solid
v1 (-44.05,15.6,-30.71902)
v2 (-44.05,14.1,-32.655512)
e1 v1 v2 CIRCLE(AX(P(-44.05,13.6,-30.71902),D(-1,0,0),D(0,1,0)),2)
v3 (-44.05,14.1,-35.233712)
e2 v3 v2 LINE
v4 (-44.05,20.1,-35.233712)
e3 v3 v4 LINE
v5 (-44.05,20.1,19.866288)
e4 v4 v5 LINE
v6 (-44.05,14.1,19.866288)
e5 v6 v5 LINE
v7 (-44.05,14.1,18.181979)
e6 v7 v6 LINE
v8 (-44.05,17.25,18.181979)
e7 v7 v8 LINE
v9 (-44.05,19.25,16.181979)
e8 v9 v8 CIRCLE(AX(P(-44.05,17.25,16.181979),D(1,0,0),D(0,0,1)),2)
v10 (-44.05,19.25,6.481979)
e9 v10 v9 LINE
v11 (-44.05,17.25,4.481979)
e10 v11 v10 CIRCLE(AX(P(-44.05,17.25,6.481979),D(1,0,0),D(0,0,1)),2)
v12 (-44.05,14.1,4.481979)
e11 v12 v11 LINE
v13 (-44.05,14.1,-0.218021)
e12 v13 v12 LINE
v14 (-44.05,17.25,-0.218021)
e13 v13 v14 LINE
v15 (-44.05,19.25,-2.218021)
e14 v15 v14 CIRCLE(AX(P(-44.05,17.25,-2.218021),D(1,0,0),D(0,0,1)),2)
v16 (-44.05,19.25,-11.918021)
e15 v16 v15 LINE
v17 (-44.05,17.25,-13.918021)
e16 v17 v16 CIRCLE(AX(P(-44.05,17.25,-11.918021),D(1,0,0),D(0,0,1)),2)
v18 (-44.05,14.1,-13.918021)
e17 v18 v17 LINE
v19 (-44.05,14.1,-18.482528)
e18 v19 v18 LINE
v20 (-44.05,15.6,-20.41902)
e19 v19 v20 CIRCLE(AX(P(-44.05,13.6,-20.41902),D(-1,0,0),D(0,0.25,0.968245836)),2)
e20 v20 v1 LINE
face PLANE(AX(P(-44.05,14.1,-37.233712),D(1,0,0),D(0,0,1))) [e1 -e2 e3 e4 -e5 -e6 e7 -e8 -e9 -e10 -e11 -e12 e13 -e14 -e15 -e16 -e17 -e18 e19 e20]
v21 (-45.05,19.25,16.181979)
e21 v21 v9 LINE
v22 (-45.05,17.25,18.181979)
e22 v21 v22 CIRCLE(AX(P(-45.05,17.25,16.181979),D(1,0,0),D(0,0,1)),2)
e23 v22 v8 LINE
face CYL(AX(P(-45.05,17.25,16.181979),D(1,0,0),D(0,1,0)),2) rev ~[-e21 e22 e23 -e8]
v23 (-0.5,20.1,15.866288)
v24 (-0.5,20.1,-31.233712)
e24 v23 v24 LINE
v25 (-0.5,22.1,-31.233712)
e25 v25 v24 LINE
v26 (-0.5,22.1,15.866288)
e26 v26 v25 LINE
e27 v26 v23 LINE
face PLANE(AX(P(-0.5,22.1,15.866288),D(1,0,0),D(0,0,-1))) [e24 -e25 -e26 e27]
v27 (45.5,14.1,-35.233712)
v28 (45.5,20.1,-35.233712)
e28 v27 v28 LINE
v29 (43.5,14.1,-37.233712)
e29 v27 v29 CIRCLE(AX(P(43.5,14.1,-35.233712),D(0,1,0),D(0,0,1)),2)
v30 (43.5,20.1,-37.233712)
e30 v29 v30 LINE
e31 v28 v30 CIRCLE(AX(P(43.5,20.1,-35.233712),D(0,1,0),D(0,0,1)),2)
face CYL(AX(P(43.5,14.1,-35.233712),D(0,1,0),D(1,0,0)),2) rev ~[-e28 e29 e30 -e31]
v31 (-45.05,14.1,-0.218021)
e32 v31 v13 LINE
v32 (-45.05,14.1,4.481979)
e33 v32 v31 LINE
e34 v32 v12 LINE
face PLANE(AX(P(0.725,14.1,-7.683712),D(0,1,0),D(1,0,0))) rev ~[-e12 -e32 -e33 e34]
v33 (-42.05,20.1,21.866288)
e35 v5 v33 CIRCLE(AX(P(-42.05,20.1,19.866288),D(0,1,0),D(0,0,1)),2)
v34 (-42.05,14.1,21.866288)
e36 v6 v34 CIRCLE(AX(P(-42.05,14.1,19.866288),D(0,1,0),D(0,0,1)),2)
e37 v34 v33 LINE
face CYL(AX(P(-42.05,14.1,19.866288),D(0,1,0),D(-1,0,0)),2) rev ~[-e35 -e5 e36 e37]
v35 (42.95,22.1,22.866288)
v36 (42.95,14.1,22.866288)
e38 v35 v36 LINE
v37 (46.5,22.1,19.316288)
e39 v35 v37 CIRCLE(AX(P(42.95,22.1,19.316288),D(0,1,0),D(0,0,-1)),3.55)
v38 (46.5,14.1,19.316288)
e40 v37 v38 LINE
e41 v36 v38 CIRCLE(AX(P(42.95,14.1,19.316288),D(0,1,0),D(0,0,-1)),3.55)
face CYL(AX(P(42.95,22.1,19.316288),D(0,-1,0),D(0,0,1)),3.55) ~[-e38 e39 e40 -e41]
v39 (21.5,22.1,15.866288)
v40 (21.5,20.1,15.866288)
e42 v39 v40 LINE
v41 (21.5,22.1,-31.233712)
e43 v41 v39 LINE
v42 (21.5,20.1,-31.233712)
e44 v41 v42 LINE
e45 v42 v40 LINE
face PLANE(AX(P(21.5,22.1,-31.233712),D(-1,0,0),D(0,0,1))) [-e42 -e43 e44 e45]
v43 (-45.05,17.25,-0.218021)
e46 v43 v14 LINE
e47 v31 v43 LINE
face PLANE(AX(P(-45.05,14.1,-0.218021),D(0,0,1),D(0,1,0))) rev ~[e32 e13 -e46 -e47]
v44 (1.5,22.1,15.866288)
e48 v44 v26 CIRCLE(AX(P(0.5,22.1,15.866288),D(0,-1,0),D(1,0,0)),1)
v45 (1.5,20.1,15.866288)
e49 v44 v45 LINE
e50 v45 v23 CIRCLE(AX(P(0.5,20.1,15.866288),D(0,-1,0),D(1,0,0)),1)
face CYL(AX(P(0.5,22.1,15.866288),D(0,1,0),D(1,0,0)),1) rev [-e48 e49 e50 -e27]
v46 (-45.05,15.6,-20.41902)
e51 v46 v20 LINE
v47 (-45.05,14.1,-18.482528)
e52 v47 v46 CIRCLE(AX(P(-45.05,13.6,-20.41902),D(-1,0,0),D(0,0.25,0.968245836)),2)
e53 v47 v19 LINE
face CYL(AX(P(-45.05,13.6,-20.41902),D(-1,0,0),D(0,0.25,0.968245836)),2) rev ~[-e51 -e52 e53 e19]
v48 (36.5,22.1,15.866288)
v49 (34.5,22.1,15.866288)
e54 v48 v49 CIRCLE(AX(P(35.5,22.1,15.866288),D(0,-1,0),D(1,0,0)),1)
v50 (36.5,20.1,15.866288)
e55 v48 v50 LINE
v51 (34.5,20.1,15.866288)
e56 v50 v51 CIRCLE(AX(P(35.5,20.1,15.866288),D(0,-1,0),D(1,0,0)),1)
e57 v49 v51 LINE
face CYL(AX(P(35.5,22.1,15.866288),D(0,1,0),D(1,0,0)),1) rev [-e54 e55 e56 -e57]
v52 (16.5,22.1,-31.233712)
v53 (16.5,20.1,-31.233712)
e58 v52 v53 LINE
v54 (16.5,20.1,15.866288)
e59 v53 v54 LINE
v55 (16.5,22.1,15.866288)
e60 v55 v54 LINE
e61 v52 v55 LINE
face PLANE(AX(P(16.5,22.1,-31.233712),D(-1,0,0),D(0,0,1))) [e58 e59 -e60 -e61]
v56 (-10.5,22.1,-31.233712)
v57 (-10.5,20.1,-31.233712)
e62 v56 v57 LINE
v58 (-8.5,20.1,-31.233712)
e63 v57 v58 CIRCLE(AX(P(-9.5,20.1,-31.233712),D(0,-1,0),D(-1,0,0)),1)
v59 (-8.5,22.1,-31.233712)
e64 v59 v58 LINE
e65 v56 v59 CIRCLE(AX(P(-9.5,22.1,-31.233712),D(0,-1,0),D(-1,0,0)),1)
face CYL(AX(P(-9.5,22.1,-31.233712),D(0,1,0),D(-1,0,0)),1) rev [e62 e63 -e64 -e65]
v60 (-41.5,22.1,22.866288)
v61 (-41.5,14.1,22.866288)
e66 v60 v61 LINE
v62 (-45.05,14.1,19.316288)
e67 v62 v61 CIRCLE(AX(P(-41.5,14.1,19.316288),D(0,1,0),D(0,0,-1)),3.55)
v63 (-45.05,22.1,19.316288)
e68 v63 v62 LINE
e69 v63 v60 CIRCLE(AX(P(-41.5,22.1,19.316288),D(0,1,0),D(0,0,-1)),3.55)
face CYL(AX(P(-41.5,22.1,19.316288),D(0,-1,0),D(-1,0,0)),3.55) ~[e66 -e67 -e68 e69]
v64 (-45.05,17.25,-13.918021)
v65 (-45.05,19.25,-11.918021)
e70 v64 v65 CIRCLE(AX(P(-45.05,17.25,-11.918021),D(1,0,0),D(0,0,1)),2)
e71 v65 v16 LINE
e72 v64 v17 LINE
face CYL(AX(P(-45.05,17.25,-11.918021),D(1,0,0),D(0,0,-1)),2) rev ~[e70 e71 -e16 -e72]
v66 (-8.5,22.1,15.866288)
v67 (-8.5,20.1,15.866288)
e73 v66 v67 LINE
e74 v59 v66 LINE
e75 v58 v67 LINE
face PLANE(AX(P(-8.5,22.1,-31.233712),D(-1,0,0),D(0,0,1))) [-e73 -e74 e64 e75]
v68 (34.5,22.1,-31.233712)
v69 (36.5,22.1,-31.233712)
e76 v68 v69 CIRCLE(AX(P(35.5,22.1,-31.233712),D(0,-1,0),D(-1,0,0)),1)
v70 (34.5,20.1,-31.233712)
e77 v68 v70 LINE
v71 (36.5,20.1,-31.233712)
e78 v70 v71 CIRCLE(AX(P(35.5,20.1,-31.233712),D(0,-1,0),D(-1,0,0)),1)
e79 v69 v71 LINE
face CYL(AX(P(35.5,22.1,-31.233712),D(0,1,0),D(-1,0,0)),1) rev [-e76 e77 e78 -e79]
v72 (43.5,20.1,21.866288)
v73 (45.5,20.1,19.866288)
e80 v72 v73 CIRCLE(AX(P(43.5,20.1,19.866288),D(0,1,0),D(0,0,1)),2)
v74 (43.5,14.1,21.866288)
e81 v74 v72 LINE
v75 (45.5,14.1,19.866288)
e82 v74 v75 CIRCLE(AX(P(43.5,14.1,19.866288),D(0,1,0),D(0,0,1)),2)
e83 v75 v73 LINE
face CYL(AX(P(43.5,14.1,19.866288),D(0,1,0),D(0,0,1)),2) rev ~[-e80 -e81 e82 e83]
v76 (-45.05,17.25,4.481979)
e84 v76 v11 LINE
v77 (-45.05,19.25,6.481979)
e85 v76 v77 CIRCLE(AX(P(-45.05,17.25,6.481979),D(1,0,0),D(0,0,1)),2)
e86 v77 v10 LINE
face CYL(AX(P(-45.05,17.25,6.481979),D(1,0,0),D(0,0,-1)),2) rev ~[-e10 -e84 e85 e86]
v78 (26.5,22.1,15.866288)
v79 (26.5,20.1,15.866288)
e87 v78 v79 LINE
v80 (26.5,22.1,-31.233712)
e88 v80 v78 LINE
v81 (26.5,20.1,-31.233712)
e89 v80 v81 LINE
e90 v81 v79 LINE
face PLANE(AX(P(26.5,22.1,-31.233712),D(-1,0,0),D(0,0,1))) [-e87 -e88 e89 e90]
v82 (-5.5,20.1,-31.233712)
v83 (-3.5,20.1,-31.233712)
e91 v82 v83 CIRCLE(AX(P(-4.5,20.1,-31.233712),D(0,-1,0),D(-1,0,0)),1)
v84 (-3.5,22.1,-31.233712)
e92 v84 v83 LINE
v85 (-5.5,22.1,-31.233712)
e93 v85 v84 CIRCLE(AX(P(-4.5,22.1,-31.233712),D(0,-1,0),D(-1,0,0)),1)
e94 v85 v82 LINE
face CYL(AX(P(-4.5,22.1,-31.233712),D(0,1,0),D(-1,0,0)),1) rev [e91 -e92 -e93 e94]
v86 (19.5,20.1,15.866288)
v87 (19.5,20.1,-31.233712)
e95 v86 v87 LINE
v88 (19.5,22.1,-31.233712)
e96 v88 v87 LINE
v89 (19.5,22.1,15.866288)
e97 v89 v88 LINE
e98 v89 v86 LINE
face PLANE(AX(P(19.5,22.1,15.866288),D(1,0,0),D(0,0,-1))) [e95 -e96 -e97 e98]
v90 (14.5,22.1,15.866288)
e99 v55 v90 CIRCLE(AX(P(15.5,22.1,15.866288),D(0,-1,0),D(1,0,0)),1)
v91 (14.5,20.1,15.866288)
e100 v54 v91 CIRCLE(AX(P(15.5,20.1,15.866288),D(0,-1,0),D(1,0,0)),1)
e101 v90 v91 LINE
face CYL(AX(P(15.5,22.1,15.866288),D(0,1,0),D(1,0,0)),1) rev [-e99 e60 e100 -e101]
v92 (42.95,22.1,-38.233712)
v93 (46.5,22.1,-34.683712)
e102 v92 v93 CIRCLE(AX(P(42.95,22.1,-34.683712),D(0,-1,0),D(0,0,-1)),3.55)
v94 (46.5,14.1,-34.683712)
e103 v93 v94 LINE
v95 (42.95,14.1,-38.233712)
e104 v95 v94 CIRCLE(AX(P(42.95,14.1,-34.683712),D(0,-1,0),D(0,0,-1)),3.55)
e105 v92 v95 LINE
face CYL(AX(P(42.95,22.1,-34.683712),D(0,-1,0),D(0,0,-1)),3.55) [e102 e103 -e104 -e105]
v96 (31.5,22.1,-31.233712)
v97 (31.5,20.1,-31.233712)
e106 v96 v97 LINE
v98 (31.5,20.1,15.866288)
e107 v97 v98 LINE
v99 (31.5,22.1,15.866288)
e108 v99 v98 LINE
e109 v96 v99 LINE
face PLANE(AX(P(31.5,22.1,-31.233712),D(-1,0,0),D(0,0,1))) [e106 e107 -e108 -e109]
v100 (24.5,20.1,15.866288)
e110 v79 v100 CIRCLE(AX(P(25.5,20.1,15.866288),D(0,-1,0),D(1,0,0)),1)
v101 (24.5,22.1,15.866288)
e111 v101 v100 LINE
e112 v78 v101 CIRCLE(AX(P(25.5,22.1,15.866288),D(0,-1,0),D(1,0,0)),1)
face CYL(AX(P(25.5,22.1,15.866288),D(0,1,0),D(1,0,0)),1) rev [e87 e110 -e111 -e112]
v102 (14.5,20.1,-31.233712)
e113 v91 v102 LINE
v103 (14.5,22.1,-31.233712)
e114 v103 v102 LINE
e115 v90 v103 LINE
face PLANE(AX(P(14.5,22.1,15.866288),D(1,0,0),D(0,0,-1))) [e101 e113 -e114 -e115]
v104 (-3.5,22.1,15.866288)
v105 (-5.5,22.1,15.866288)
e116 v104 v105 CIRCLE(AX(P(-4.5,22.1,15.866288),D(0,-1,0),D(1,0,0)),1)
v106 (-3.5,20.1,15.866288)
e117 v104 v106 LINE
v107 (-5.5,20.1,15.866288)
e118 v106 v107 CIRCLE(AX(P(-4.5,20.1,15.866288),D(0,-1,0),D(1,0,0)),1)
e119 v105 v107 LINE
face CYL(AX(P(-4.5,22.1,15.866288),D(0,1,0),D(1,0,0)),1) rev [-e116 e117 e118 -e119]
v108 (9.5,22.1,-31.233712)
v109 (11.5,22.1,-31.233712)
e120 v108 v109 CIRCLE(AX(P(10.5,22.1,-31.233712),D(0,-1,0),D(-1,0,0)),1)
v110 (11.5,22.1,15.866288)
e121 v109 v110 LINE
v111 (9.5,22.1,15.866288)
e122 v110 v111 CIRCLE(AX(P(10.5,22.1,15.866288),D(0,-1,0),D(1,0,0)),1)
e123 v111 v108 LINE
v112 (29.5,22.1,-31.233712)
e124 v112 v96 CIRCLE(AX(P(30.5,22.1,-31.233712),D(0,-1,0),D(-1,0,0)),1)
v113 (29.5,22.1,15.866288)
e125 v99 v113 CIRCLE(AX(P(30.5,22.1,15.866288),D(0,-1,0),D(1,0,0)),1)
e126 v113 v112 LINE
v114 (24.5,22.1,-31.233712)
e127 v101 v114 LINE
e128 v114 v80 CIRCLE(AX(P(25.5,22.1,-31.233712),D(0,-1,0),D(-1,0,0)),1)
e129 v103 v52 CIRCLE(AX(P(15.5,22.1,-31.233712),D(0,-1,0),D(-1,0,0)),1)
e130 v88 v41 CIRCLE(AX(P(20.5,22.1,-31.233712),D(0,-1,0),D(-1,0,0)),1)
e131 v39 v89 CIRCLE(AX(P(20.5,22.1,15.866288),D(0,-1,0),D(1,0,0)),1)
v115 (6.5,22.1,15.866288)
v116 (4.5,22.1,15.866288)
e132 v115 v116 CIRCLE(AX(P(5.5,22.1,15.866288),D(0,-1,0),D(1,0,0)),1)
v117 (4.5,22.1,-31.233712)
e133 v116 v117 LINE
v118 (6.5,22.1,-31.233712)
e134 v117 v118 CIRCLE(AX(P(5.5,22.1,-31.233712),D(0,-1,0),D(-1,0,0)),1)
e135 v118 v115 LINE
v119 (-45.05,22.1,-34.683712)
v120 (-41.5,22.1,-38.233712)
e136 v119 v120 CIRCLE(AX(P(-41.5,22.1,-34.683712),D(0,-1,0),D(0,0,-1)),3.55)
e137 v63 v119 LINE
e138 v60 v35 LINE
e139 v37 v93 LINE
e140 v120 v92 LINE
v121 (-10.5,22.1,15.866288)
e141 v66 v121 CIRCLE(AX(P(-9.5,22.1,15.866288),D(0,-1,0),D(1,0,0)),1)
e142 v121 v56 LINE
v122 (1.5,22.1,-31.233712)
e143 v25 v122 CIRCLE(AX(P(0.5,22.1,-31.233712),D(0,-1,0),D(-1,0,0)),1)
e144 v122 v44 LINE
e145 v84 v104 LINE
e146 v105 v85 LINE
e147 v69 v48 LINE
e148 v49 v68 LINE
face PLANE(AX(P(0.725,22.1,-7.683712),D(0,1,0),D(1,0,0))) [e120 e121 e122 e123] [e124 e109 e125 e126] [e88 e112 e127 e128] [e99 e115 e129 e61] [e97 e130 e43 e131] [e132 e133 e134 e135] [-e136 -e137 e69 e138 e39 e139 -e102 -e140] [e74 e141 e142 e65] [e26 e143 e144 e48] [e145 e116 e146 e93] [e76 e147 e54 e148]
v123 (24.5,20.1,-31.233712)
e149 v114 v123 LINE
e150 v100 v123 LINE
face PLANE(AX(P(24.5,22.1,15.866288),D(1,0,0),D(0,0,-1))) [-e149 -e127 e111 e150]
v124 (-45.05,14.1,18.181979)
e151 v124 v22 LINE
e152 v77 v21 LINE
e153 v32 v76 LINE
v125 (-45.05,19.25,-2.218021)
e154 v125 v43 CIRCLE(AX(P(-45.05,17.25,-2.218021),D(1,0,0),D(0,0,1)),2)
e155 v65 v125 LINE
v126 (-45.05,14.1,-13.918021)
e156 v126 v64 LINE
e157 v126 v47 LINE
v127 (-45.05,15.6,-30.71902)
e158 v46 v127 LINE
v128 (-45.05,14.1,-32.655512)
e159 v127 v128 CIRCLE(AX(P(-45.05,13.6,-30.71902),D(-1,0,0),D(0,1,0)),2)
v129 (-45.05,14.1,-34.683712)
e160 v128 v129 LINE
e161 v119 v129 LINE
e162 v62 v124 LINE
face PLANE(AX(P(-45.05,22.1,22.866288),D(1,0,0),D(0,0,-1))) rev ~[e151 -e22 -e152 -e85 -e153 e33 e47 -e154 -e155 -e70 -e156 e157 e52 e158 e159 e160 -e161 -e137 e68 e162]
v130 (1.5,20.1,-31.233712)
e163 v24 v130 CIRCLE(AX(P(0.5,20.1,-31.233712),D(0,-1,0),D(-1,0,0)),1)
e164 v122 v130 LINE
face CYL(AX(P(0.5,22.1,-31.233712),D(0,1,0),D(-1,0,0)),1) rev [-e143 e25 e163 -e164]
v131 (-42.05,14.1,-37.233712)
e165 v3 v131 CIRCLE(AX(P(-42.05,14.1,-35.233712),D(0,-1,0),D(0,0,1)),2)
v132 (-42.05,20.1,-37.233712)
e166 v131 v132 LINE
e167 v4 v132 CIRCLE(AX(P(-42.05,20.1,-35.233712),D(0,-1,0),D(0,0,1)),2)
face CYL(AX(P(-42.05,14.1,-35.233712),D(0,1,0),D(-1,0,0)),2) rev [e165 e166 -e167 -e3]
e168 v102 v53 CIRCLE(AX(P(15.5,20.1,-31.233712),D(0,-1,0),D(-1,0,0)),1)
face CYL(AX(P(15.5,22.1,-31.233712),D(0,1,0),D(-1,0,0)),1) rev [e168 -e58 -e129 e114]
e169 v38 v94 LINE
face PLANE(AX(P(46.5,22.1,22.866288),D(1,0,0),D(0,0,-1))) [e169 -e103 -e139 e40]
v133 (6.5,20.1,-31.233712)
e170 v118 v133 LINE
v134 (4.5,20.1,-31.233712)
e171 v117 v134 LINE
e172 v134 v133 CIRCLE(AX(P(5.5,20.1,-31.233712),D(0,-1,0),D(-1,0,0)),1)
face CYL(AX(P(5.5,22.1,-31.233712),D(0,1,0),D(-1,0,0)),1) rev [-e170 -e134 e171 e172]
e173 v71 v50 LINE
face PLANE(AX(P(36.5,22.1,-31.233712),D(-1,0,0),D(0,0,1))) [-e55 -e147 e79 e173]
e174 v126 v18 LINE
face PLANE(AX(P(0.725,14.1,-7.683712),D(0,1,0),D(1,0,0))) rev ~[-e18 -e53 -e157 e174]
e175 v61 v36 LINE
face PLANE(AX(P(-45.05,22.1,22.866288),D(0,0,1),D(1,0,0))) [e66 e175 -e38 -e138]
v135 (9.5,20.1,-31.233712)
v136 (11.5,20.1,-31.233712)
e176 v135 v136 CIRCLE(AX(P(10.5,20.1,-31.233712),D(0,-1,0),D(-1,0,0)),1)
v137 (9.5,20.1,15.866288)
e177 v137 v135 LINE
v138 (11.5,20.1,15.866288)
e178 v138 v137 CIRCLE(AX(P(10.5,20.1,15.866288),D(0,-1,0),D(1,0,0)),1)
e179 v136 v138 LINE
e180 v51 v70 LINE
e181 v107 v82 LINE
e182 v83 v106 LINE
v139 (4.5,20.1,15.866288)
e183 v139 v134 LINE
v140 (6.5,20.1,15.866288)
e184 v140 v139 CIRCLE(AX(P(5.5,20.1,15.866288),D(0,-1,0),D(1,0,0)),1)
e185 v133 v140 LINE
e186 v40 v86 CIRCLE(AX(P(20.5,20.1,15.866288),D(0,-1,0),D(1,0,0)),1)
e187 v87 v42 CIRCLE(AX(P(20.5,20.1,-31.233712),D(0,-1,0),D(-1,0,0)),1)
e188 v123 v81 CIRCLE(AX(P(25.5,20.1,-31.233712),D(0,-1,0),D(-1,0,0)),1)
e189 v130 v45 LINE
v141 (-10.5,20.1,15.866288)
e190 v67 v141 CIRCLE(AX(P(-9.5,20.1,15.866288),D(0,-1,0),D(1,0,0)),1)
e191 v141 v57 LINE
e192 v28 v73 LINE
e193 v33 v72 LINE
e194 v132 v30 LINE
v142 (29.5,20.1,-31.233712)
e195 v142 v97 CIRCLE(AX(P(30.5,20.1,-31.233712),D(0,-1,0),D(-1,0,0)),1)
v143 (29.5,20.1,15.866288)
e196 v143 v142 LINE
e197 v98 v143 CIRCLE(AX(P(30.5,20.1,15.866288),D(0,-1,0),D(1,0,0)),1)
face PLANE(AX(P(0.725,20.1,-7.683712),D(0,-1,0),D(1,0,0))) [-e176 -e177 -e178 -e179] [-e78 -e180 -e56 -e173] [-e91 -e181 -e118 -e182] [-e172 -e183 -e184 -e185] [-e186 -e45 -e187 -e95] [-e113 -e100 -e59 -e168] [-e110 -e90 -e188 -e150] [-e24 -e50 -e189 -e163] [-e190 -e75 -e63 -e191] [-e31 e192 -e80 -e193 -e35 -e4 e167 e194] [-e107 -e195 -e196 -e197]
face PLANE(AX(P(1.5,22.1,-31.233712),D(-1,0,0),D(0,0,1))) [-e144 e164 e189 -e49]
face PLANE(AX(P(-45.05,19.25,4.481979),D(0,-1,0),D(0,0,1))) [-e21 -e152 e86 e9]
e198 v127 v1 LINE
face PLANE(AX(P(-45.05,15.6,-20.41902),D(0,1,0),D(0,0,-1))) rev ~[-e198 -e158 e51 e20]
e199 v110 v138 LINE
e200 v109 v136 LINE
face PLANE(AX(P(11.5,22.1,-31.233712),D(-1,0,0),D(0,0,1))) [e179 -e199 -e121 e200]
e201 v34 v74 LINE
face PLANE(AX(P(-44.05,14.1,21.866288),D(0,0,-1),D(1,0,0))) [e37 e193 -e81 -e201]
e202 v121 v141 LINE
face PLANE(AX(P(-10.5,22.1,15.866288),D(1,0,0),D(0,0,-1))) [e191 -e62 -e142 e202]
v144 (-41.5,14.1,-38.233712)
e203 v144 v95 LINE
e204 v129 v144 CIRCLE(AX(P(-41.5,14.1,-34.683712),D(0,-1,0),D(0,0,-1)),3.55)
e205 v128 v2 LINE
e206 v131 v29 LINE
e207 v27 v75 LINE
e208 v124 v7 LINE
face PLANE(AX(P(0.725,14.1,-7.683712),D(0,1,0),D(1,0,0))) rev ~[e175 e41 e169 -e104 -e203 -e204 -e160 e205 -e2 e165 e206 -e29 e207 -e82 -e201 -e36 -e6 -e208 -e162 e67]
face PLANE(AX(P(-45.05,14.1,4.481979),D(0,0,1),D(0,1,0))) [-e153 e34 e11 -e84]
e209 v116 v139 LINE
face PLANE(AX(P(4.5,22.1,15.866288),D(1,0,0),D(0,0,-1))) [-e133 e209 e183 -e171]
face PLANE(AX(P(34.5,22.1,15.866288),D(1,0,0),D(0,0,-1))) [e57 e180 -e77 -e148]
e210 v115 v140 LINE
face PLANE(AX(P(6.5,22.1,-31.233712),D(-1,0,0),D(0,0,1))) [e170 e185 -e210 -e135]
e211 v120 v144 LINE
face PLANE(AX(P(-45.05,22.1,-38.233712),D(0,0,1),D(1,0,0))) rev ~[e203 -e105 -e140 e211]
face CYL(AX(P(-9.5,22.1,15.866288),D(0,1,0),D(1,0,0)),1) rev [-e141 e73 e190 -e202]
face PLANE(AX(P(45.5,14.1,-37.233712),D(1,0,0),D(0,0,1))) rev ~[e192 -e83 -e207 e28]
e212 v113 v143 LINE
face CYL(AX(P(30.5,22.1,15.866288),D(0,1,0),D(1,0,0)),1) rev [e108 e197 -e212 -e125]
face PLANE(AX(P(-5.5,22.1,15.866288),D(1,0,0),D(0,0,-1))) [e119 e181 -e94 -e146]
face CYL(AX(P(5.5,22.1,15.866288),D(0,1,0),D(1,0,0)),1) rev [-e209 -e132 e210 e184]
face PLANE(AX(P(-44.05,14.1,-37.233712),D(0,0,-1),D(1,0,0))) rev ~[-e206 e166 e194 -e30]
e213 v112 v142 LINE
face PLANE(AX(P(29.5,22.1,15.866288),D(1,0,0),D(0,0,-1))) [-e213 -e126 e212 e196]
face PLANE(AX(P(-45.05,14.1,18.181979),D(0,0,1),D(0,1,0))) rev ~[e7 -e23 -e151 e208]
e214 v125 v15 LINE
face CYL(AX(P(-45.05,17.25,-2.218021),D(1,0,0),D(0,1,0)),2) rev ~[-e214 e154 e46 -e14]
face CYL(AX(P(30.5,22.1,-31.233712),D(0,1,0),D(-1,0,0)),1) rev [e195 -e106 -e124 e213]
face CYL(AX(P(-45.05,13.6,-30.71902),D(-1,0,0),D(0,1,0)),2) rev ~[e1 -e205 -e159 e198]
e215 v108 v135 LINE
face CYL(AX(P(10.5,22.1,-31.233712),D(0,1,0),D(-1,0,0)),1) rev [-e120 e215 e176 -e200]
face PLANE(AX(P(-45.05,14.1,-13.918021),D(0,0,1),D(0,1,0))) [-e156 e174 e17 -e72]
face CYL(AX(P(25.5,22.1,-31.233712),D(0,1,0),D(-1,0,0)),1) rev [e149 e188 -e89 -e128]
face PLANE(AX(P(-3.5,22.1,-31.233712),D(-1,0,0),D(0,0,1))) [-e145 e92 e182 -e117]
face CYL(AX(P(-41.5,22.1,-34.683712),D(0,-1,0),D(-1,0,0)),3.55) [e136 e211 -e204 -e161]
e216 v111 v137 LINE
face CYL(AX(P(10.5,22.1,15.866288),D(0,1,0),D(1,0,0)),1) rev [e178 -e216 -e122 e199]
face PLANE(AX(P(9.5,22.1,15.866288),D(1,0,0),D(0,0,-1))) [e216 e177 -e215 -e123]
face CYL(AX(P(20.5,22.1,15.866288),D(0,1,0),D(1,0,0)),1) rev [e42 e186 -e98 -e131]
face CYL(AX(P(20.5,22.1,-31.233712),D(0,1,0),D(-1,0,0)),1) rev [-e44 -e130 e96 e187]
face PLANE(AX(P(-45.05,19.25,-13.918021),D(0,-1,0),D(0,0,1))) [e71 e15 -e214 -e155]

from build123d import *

# Parameters (mm, degrees)
SKETCH1_W           = 91.55
SKETCH1_H           = 61.1
BOSS_EXTRUDE1_DEPTH = 8
SKETCH2_W           = 89.55
SKETCH2_H           = 59.1
CUT_EXTRUDE1_DEPTH  = 6
CUT_EXTRUDE2_REACH  = 189.594
SKETCH3_W           = 13.7
SKETCH3_H           = 5.15
CUT_EXTRUDE3_REACH  = 189.594
SKETCH4_W           = 13.7
SKETCH4_H           = 5.15
CUT_EXTRUDE4_REACH  = 189.594
FILLET1_R           = 2
FILLET2_R           = 3.55
CUT_EXTRUDE5_DEPTH  = 2
LPATTERN1_COUNT     = 10
LPATTERN1_PITCH     = 5


with BuildPart() as part:
    # Sketch1 → Boss-Extrude1 (new body)
    with BuildSketch(Plane(origin=(0, 22.1, -139.373711609), x_dir=(1, 0, 0), z_dir=(0, 1, 0))):
        with Locations((0.725, -131.69)):
            Rectangle(SKETCH1_W, SKETCH1_H)
    extrude(amount=-BOSS_EXTRUDE1_DEPTH)

    # Sketch2 → Cut-Extrude1 (cut)
    with BuildSketch(Plane(origin=(0, 14.1, -139.373711609), x_dir=(1, 0, 0), z_dir=(0, -1, 0))):
        with Locations((0.725, 131.69)):
            Rectangle(SKETCH2_W, SKETCH2_H)
    extrude(amount=-CUT_EXTRUDE1_DEPTH, mode=Mode.SUBTRACT)

    # Sketch3 → Cut-Extrude2 (cut, up to next)
    with BuildSketch(Plane(origin=(-45.05, 0, -139.373711609), x_dir=(0, 0, 1), z_dir=(-1, 0, 0)), mode=Mode.PRIVATE) as cut_extrude2_sk1:
        with Locations((150.705690784, 16.675)):
            Rectangle(SKETCH3_W, SKETCH3_H)
    cut_extrude2_tool1 = extrude(cut_extrude2_sk1.sketch, amount=-CUT_EXTRUDE2_REACH, mode=Mode.PRIVATE) & part.part
    add(cut_extrude2_tool1.solids().sort_by_distance((-45.05, 16.675, 11.331979))[0], mode=Mode.SUBTRACT)

    # Sketch4 → Cut-Extrude3 (cut, up to next)
    with BuildSketch(Plane(origin=(-45.05, 0, -139.373711609), x_dir=(0, 0, 1), z_dir=(-1, 0, 0)), mode=Mode.PRIVATE) as cut_extrude3_sk1:
        with Locations((132.305690784, 16.675)):
            Rectangle(SKETCH4_W, SKETCH4_H)
    cut_extrude3_tool1 = extrude(cut_extrude3_sk1.sketch, amount=-CUT_EXTRUDE3_REACH, mode=Mode.PRIVATE) & part.part
    add(cut_extrude3_tool1.solids().sort_by_distance((-45.05, 16.675, -7.068021))[0], mode=Mode.SUBTRACT)

    # Sketch5 → Cut-Extrude4 (cut, up to next)
    with BuildSketch(Plane(origin=(-45.05, 0, -139.373711609), x_dir=(0, 0, 1), z_dir=(-1, 0, 0)), mode=Mode.PRIVATE) as cut_extrude4_sk1:
        with BuildLine():
            Line((106.718199777, 14.1), (120.891183123, 14.1))
            ThreePointArc((120.891183123, 14.1), (120.179436321, 15.18113883), (118.95469145, 15.6))
            Line((118.95469145, 15.6), (108.65469145, 15.6))
            ThreePointArc((108.65469145, 15.6), (107.429946578, 15.18113883), (106.718199777, 14.1))
        make_face()
    cut_extrude4_tool1 = extrude(cut_extrude4_sk1.sketch, amount=-CUT_EXTRUDE4_REACH, mode=Mode.PRIVATE) & part.part
    add(cut_extrude4_tool1.solids().sort_by_distance((-45.05, 14.822712, -25.56902))[0], mode=Mode.SUBTRACT)

    # Fillet1
    fillet1_edges = [part.edges().sort_by_distance(p)[0] for p in [
        (-44.05, 17.1, 21.866288391),
        (45.5, 17.1, 21.866288391),
        (45.5, 17.1, -37.233711609),
        (-44.05, 17.1, -37.233711609),
        (-44.55, 19.25, 18.181979175),
        (-44.55, 19.25, 4.481979175),
        (-44.55, 19.25, -0.218020825),
        (-44.55, 19.25, -13.918020825),
    ]]
    fillet(fillet1_edges, radius=FILLET1_R)

    # Fillet2
    fillet2_edges = [part.edges().sort_by_distance(p)[0] for p in [
        (-45.05, 18.1, 22.866288391),
        (-45.05, 18.1, -38.233711609),
        (46.5, 18.1, -38.233711609),
        (46.5, 18.1, 22.866288391),
    ]]
    fillet(fillet2_edges, radius=FILLET2_R)

    # Sketch6 → Cut-Extrude5 (cut)
    with BuildSketch(Plane(origin=(0, 22.1, 0), x_dir=(1, 0, 0), z_dir=(0, 1, 0))):
        with BuildLine():
            Line((36.5, 31.233711609), (36.5, -15.866288391))
            ThreePointArc((36.5, -15.866288391), (35.5, -16.866288391), (34.5, -15.866288391))
            Line((34.5, -15.866288391), (34.5, 31.233711609))
            ThreePointArc((34.5, 31.233711609), (35.5, 32.233711609), (36.5, 31.233711609))
        make_face()
    cut_extrude5 = extrude(amount=-CUT_EXTRUDE5_DEPTH, mode=Mode.SUBTRACT)

    # LPattern1: Cut-Extrude5 ×10
    with Locations(*[(-i * LPATTERN1_PITCH, 0, 0) for i in range(1, LPATTERN1_COUNT)]):
        add(cut_extrude5, mode=Mode.SUBTRACT)


solid = part.part
